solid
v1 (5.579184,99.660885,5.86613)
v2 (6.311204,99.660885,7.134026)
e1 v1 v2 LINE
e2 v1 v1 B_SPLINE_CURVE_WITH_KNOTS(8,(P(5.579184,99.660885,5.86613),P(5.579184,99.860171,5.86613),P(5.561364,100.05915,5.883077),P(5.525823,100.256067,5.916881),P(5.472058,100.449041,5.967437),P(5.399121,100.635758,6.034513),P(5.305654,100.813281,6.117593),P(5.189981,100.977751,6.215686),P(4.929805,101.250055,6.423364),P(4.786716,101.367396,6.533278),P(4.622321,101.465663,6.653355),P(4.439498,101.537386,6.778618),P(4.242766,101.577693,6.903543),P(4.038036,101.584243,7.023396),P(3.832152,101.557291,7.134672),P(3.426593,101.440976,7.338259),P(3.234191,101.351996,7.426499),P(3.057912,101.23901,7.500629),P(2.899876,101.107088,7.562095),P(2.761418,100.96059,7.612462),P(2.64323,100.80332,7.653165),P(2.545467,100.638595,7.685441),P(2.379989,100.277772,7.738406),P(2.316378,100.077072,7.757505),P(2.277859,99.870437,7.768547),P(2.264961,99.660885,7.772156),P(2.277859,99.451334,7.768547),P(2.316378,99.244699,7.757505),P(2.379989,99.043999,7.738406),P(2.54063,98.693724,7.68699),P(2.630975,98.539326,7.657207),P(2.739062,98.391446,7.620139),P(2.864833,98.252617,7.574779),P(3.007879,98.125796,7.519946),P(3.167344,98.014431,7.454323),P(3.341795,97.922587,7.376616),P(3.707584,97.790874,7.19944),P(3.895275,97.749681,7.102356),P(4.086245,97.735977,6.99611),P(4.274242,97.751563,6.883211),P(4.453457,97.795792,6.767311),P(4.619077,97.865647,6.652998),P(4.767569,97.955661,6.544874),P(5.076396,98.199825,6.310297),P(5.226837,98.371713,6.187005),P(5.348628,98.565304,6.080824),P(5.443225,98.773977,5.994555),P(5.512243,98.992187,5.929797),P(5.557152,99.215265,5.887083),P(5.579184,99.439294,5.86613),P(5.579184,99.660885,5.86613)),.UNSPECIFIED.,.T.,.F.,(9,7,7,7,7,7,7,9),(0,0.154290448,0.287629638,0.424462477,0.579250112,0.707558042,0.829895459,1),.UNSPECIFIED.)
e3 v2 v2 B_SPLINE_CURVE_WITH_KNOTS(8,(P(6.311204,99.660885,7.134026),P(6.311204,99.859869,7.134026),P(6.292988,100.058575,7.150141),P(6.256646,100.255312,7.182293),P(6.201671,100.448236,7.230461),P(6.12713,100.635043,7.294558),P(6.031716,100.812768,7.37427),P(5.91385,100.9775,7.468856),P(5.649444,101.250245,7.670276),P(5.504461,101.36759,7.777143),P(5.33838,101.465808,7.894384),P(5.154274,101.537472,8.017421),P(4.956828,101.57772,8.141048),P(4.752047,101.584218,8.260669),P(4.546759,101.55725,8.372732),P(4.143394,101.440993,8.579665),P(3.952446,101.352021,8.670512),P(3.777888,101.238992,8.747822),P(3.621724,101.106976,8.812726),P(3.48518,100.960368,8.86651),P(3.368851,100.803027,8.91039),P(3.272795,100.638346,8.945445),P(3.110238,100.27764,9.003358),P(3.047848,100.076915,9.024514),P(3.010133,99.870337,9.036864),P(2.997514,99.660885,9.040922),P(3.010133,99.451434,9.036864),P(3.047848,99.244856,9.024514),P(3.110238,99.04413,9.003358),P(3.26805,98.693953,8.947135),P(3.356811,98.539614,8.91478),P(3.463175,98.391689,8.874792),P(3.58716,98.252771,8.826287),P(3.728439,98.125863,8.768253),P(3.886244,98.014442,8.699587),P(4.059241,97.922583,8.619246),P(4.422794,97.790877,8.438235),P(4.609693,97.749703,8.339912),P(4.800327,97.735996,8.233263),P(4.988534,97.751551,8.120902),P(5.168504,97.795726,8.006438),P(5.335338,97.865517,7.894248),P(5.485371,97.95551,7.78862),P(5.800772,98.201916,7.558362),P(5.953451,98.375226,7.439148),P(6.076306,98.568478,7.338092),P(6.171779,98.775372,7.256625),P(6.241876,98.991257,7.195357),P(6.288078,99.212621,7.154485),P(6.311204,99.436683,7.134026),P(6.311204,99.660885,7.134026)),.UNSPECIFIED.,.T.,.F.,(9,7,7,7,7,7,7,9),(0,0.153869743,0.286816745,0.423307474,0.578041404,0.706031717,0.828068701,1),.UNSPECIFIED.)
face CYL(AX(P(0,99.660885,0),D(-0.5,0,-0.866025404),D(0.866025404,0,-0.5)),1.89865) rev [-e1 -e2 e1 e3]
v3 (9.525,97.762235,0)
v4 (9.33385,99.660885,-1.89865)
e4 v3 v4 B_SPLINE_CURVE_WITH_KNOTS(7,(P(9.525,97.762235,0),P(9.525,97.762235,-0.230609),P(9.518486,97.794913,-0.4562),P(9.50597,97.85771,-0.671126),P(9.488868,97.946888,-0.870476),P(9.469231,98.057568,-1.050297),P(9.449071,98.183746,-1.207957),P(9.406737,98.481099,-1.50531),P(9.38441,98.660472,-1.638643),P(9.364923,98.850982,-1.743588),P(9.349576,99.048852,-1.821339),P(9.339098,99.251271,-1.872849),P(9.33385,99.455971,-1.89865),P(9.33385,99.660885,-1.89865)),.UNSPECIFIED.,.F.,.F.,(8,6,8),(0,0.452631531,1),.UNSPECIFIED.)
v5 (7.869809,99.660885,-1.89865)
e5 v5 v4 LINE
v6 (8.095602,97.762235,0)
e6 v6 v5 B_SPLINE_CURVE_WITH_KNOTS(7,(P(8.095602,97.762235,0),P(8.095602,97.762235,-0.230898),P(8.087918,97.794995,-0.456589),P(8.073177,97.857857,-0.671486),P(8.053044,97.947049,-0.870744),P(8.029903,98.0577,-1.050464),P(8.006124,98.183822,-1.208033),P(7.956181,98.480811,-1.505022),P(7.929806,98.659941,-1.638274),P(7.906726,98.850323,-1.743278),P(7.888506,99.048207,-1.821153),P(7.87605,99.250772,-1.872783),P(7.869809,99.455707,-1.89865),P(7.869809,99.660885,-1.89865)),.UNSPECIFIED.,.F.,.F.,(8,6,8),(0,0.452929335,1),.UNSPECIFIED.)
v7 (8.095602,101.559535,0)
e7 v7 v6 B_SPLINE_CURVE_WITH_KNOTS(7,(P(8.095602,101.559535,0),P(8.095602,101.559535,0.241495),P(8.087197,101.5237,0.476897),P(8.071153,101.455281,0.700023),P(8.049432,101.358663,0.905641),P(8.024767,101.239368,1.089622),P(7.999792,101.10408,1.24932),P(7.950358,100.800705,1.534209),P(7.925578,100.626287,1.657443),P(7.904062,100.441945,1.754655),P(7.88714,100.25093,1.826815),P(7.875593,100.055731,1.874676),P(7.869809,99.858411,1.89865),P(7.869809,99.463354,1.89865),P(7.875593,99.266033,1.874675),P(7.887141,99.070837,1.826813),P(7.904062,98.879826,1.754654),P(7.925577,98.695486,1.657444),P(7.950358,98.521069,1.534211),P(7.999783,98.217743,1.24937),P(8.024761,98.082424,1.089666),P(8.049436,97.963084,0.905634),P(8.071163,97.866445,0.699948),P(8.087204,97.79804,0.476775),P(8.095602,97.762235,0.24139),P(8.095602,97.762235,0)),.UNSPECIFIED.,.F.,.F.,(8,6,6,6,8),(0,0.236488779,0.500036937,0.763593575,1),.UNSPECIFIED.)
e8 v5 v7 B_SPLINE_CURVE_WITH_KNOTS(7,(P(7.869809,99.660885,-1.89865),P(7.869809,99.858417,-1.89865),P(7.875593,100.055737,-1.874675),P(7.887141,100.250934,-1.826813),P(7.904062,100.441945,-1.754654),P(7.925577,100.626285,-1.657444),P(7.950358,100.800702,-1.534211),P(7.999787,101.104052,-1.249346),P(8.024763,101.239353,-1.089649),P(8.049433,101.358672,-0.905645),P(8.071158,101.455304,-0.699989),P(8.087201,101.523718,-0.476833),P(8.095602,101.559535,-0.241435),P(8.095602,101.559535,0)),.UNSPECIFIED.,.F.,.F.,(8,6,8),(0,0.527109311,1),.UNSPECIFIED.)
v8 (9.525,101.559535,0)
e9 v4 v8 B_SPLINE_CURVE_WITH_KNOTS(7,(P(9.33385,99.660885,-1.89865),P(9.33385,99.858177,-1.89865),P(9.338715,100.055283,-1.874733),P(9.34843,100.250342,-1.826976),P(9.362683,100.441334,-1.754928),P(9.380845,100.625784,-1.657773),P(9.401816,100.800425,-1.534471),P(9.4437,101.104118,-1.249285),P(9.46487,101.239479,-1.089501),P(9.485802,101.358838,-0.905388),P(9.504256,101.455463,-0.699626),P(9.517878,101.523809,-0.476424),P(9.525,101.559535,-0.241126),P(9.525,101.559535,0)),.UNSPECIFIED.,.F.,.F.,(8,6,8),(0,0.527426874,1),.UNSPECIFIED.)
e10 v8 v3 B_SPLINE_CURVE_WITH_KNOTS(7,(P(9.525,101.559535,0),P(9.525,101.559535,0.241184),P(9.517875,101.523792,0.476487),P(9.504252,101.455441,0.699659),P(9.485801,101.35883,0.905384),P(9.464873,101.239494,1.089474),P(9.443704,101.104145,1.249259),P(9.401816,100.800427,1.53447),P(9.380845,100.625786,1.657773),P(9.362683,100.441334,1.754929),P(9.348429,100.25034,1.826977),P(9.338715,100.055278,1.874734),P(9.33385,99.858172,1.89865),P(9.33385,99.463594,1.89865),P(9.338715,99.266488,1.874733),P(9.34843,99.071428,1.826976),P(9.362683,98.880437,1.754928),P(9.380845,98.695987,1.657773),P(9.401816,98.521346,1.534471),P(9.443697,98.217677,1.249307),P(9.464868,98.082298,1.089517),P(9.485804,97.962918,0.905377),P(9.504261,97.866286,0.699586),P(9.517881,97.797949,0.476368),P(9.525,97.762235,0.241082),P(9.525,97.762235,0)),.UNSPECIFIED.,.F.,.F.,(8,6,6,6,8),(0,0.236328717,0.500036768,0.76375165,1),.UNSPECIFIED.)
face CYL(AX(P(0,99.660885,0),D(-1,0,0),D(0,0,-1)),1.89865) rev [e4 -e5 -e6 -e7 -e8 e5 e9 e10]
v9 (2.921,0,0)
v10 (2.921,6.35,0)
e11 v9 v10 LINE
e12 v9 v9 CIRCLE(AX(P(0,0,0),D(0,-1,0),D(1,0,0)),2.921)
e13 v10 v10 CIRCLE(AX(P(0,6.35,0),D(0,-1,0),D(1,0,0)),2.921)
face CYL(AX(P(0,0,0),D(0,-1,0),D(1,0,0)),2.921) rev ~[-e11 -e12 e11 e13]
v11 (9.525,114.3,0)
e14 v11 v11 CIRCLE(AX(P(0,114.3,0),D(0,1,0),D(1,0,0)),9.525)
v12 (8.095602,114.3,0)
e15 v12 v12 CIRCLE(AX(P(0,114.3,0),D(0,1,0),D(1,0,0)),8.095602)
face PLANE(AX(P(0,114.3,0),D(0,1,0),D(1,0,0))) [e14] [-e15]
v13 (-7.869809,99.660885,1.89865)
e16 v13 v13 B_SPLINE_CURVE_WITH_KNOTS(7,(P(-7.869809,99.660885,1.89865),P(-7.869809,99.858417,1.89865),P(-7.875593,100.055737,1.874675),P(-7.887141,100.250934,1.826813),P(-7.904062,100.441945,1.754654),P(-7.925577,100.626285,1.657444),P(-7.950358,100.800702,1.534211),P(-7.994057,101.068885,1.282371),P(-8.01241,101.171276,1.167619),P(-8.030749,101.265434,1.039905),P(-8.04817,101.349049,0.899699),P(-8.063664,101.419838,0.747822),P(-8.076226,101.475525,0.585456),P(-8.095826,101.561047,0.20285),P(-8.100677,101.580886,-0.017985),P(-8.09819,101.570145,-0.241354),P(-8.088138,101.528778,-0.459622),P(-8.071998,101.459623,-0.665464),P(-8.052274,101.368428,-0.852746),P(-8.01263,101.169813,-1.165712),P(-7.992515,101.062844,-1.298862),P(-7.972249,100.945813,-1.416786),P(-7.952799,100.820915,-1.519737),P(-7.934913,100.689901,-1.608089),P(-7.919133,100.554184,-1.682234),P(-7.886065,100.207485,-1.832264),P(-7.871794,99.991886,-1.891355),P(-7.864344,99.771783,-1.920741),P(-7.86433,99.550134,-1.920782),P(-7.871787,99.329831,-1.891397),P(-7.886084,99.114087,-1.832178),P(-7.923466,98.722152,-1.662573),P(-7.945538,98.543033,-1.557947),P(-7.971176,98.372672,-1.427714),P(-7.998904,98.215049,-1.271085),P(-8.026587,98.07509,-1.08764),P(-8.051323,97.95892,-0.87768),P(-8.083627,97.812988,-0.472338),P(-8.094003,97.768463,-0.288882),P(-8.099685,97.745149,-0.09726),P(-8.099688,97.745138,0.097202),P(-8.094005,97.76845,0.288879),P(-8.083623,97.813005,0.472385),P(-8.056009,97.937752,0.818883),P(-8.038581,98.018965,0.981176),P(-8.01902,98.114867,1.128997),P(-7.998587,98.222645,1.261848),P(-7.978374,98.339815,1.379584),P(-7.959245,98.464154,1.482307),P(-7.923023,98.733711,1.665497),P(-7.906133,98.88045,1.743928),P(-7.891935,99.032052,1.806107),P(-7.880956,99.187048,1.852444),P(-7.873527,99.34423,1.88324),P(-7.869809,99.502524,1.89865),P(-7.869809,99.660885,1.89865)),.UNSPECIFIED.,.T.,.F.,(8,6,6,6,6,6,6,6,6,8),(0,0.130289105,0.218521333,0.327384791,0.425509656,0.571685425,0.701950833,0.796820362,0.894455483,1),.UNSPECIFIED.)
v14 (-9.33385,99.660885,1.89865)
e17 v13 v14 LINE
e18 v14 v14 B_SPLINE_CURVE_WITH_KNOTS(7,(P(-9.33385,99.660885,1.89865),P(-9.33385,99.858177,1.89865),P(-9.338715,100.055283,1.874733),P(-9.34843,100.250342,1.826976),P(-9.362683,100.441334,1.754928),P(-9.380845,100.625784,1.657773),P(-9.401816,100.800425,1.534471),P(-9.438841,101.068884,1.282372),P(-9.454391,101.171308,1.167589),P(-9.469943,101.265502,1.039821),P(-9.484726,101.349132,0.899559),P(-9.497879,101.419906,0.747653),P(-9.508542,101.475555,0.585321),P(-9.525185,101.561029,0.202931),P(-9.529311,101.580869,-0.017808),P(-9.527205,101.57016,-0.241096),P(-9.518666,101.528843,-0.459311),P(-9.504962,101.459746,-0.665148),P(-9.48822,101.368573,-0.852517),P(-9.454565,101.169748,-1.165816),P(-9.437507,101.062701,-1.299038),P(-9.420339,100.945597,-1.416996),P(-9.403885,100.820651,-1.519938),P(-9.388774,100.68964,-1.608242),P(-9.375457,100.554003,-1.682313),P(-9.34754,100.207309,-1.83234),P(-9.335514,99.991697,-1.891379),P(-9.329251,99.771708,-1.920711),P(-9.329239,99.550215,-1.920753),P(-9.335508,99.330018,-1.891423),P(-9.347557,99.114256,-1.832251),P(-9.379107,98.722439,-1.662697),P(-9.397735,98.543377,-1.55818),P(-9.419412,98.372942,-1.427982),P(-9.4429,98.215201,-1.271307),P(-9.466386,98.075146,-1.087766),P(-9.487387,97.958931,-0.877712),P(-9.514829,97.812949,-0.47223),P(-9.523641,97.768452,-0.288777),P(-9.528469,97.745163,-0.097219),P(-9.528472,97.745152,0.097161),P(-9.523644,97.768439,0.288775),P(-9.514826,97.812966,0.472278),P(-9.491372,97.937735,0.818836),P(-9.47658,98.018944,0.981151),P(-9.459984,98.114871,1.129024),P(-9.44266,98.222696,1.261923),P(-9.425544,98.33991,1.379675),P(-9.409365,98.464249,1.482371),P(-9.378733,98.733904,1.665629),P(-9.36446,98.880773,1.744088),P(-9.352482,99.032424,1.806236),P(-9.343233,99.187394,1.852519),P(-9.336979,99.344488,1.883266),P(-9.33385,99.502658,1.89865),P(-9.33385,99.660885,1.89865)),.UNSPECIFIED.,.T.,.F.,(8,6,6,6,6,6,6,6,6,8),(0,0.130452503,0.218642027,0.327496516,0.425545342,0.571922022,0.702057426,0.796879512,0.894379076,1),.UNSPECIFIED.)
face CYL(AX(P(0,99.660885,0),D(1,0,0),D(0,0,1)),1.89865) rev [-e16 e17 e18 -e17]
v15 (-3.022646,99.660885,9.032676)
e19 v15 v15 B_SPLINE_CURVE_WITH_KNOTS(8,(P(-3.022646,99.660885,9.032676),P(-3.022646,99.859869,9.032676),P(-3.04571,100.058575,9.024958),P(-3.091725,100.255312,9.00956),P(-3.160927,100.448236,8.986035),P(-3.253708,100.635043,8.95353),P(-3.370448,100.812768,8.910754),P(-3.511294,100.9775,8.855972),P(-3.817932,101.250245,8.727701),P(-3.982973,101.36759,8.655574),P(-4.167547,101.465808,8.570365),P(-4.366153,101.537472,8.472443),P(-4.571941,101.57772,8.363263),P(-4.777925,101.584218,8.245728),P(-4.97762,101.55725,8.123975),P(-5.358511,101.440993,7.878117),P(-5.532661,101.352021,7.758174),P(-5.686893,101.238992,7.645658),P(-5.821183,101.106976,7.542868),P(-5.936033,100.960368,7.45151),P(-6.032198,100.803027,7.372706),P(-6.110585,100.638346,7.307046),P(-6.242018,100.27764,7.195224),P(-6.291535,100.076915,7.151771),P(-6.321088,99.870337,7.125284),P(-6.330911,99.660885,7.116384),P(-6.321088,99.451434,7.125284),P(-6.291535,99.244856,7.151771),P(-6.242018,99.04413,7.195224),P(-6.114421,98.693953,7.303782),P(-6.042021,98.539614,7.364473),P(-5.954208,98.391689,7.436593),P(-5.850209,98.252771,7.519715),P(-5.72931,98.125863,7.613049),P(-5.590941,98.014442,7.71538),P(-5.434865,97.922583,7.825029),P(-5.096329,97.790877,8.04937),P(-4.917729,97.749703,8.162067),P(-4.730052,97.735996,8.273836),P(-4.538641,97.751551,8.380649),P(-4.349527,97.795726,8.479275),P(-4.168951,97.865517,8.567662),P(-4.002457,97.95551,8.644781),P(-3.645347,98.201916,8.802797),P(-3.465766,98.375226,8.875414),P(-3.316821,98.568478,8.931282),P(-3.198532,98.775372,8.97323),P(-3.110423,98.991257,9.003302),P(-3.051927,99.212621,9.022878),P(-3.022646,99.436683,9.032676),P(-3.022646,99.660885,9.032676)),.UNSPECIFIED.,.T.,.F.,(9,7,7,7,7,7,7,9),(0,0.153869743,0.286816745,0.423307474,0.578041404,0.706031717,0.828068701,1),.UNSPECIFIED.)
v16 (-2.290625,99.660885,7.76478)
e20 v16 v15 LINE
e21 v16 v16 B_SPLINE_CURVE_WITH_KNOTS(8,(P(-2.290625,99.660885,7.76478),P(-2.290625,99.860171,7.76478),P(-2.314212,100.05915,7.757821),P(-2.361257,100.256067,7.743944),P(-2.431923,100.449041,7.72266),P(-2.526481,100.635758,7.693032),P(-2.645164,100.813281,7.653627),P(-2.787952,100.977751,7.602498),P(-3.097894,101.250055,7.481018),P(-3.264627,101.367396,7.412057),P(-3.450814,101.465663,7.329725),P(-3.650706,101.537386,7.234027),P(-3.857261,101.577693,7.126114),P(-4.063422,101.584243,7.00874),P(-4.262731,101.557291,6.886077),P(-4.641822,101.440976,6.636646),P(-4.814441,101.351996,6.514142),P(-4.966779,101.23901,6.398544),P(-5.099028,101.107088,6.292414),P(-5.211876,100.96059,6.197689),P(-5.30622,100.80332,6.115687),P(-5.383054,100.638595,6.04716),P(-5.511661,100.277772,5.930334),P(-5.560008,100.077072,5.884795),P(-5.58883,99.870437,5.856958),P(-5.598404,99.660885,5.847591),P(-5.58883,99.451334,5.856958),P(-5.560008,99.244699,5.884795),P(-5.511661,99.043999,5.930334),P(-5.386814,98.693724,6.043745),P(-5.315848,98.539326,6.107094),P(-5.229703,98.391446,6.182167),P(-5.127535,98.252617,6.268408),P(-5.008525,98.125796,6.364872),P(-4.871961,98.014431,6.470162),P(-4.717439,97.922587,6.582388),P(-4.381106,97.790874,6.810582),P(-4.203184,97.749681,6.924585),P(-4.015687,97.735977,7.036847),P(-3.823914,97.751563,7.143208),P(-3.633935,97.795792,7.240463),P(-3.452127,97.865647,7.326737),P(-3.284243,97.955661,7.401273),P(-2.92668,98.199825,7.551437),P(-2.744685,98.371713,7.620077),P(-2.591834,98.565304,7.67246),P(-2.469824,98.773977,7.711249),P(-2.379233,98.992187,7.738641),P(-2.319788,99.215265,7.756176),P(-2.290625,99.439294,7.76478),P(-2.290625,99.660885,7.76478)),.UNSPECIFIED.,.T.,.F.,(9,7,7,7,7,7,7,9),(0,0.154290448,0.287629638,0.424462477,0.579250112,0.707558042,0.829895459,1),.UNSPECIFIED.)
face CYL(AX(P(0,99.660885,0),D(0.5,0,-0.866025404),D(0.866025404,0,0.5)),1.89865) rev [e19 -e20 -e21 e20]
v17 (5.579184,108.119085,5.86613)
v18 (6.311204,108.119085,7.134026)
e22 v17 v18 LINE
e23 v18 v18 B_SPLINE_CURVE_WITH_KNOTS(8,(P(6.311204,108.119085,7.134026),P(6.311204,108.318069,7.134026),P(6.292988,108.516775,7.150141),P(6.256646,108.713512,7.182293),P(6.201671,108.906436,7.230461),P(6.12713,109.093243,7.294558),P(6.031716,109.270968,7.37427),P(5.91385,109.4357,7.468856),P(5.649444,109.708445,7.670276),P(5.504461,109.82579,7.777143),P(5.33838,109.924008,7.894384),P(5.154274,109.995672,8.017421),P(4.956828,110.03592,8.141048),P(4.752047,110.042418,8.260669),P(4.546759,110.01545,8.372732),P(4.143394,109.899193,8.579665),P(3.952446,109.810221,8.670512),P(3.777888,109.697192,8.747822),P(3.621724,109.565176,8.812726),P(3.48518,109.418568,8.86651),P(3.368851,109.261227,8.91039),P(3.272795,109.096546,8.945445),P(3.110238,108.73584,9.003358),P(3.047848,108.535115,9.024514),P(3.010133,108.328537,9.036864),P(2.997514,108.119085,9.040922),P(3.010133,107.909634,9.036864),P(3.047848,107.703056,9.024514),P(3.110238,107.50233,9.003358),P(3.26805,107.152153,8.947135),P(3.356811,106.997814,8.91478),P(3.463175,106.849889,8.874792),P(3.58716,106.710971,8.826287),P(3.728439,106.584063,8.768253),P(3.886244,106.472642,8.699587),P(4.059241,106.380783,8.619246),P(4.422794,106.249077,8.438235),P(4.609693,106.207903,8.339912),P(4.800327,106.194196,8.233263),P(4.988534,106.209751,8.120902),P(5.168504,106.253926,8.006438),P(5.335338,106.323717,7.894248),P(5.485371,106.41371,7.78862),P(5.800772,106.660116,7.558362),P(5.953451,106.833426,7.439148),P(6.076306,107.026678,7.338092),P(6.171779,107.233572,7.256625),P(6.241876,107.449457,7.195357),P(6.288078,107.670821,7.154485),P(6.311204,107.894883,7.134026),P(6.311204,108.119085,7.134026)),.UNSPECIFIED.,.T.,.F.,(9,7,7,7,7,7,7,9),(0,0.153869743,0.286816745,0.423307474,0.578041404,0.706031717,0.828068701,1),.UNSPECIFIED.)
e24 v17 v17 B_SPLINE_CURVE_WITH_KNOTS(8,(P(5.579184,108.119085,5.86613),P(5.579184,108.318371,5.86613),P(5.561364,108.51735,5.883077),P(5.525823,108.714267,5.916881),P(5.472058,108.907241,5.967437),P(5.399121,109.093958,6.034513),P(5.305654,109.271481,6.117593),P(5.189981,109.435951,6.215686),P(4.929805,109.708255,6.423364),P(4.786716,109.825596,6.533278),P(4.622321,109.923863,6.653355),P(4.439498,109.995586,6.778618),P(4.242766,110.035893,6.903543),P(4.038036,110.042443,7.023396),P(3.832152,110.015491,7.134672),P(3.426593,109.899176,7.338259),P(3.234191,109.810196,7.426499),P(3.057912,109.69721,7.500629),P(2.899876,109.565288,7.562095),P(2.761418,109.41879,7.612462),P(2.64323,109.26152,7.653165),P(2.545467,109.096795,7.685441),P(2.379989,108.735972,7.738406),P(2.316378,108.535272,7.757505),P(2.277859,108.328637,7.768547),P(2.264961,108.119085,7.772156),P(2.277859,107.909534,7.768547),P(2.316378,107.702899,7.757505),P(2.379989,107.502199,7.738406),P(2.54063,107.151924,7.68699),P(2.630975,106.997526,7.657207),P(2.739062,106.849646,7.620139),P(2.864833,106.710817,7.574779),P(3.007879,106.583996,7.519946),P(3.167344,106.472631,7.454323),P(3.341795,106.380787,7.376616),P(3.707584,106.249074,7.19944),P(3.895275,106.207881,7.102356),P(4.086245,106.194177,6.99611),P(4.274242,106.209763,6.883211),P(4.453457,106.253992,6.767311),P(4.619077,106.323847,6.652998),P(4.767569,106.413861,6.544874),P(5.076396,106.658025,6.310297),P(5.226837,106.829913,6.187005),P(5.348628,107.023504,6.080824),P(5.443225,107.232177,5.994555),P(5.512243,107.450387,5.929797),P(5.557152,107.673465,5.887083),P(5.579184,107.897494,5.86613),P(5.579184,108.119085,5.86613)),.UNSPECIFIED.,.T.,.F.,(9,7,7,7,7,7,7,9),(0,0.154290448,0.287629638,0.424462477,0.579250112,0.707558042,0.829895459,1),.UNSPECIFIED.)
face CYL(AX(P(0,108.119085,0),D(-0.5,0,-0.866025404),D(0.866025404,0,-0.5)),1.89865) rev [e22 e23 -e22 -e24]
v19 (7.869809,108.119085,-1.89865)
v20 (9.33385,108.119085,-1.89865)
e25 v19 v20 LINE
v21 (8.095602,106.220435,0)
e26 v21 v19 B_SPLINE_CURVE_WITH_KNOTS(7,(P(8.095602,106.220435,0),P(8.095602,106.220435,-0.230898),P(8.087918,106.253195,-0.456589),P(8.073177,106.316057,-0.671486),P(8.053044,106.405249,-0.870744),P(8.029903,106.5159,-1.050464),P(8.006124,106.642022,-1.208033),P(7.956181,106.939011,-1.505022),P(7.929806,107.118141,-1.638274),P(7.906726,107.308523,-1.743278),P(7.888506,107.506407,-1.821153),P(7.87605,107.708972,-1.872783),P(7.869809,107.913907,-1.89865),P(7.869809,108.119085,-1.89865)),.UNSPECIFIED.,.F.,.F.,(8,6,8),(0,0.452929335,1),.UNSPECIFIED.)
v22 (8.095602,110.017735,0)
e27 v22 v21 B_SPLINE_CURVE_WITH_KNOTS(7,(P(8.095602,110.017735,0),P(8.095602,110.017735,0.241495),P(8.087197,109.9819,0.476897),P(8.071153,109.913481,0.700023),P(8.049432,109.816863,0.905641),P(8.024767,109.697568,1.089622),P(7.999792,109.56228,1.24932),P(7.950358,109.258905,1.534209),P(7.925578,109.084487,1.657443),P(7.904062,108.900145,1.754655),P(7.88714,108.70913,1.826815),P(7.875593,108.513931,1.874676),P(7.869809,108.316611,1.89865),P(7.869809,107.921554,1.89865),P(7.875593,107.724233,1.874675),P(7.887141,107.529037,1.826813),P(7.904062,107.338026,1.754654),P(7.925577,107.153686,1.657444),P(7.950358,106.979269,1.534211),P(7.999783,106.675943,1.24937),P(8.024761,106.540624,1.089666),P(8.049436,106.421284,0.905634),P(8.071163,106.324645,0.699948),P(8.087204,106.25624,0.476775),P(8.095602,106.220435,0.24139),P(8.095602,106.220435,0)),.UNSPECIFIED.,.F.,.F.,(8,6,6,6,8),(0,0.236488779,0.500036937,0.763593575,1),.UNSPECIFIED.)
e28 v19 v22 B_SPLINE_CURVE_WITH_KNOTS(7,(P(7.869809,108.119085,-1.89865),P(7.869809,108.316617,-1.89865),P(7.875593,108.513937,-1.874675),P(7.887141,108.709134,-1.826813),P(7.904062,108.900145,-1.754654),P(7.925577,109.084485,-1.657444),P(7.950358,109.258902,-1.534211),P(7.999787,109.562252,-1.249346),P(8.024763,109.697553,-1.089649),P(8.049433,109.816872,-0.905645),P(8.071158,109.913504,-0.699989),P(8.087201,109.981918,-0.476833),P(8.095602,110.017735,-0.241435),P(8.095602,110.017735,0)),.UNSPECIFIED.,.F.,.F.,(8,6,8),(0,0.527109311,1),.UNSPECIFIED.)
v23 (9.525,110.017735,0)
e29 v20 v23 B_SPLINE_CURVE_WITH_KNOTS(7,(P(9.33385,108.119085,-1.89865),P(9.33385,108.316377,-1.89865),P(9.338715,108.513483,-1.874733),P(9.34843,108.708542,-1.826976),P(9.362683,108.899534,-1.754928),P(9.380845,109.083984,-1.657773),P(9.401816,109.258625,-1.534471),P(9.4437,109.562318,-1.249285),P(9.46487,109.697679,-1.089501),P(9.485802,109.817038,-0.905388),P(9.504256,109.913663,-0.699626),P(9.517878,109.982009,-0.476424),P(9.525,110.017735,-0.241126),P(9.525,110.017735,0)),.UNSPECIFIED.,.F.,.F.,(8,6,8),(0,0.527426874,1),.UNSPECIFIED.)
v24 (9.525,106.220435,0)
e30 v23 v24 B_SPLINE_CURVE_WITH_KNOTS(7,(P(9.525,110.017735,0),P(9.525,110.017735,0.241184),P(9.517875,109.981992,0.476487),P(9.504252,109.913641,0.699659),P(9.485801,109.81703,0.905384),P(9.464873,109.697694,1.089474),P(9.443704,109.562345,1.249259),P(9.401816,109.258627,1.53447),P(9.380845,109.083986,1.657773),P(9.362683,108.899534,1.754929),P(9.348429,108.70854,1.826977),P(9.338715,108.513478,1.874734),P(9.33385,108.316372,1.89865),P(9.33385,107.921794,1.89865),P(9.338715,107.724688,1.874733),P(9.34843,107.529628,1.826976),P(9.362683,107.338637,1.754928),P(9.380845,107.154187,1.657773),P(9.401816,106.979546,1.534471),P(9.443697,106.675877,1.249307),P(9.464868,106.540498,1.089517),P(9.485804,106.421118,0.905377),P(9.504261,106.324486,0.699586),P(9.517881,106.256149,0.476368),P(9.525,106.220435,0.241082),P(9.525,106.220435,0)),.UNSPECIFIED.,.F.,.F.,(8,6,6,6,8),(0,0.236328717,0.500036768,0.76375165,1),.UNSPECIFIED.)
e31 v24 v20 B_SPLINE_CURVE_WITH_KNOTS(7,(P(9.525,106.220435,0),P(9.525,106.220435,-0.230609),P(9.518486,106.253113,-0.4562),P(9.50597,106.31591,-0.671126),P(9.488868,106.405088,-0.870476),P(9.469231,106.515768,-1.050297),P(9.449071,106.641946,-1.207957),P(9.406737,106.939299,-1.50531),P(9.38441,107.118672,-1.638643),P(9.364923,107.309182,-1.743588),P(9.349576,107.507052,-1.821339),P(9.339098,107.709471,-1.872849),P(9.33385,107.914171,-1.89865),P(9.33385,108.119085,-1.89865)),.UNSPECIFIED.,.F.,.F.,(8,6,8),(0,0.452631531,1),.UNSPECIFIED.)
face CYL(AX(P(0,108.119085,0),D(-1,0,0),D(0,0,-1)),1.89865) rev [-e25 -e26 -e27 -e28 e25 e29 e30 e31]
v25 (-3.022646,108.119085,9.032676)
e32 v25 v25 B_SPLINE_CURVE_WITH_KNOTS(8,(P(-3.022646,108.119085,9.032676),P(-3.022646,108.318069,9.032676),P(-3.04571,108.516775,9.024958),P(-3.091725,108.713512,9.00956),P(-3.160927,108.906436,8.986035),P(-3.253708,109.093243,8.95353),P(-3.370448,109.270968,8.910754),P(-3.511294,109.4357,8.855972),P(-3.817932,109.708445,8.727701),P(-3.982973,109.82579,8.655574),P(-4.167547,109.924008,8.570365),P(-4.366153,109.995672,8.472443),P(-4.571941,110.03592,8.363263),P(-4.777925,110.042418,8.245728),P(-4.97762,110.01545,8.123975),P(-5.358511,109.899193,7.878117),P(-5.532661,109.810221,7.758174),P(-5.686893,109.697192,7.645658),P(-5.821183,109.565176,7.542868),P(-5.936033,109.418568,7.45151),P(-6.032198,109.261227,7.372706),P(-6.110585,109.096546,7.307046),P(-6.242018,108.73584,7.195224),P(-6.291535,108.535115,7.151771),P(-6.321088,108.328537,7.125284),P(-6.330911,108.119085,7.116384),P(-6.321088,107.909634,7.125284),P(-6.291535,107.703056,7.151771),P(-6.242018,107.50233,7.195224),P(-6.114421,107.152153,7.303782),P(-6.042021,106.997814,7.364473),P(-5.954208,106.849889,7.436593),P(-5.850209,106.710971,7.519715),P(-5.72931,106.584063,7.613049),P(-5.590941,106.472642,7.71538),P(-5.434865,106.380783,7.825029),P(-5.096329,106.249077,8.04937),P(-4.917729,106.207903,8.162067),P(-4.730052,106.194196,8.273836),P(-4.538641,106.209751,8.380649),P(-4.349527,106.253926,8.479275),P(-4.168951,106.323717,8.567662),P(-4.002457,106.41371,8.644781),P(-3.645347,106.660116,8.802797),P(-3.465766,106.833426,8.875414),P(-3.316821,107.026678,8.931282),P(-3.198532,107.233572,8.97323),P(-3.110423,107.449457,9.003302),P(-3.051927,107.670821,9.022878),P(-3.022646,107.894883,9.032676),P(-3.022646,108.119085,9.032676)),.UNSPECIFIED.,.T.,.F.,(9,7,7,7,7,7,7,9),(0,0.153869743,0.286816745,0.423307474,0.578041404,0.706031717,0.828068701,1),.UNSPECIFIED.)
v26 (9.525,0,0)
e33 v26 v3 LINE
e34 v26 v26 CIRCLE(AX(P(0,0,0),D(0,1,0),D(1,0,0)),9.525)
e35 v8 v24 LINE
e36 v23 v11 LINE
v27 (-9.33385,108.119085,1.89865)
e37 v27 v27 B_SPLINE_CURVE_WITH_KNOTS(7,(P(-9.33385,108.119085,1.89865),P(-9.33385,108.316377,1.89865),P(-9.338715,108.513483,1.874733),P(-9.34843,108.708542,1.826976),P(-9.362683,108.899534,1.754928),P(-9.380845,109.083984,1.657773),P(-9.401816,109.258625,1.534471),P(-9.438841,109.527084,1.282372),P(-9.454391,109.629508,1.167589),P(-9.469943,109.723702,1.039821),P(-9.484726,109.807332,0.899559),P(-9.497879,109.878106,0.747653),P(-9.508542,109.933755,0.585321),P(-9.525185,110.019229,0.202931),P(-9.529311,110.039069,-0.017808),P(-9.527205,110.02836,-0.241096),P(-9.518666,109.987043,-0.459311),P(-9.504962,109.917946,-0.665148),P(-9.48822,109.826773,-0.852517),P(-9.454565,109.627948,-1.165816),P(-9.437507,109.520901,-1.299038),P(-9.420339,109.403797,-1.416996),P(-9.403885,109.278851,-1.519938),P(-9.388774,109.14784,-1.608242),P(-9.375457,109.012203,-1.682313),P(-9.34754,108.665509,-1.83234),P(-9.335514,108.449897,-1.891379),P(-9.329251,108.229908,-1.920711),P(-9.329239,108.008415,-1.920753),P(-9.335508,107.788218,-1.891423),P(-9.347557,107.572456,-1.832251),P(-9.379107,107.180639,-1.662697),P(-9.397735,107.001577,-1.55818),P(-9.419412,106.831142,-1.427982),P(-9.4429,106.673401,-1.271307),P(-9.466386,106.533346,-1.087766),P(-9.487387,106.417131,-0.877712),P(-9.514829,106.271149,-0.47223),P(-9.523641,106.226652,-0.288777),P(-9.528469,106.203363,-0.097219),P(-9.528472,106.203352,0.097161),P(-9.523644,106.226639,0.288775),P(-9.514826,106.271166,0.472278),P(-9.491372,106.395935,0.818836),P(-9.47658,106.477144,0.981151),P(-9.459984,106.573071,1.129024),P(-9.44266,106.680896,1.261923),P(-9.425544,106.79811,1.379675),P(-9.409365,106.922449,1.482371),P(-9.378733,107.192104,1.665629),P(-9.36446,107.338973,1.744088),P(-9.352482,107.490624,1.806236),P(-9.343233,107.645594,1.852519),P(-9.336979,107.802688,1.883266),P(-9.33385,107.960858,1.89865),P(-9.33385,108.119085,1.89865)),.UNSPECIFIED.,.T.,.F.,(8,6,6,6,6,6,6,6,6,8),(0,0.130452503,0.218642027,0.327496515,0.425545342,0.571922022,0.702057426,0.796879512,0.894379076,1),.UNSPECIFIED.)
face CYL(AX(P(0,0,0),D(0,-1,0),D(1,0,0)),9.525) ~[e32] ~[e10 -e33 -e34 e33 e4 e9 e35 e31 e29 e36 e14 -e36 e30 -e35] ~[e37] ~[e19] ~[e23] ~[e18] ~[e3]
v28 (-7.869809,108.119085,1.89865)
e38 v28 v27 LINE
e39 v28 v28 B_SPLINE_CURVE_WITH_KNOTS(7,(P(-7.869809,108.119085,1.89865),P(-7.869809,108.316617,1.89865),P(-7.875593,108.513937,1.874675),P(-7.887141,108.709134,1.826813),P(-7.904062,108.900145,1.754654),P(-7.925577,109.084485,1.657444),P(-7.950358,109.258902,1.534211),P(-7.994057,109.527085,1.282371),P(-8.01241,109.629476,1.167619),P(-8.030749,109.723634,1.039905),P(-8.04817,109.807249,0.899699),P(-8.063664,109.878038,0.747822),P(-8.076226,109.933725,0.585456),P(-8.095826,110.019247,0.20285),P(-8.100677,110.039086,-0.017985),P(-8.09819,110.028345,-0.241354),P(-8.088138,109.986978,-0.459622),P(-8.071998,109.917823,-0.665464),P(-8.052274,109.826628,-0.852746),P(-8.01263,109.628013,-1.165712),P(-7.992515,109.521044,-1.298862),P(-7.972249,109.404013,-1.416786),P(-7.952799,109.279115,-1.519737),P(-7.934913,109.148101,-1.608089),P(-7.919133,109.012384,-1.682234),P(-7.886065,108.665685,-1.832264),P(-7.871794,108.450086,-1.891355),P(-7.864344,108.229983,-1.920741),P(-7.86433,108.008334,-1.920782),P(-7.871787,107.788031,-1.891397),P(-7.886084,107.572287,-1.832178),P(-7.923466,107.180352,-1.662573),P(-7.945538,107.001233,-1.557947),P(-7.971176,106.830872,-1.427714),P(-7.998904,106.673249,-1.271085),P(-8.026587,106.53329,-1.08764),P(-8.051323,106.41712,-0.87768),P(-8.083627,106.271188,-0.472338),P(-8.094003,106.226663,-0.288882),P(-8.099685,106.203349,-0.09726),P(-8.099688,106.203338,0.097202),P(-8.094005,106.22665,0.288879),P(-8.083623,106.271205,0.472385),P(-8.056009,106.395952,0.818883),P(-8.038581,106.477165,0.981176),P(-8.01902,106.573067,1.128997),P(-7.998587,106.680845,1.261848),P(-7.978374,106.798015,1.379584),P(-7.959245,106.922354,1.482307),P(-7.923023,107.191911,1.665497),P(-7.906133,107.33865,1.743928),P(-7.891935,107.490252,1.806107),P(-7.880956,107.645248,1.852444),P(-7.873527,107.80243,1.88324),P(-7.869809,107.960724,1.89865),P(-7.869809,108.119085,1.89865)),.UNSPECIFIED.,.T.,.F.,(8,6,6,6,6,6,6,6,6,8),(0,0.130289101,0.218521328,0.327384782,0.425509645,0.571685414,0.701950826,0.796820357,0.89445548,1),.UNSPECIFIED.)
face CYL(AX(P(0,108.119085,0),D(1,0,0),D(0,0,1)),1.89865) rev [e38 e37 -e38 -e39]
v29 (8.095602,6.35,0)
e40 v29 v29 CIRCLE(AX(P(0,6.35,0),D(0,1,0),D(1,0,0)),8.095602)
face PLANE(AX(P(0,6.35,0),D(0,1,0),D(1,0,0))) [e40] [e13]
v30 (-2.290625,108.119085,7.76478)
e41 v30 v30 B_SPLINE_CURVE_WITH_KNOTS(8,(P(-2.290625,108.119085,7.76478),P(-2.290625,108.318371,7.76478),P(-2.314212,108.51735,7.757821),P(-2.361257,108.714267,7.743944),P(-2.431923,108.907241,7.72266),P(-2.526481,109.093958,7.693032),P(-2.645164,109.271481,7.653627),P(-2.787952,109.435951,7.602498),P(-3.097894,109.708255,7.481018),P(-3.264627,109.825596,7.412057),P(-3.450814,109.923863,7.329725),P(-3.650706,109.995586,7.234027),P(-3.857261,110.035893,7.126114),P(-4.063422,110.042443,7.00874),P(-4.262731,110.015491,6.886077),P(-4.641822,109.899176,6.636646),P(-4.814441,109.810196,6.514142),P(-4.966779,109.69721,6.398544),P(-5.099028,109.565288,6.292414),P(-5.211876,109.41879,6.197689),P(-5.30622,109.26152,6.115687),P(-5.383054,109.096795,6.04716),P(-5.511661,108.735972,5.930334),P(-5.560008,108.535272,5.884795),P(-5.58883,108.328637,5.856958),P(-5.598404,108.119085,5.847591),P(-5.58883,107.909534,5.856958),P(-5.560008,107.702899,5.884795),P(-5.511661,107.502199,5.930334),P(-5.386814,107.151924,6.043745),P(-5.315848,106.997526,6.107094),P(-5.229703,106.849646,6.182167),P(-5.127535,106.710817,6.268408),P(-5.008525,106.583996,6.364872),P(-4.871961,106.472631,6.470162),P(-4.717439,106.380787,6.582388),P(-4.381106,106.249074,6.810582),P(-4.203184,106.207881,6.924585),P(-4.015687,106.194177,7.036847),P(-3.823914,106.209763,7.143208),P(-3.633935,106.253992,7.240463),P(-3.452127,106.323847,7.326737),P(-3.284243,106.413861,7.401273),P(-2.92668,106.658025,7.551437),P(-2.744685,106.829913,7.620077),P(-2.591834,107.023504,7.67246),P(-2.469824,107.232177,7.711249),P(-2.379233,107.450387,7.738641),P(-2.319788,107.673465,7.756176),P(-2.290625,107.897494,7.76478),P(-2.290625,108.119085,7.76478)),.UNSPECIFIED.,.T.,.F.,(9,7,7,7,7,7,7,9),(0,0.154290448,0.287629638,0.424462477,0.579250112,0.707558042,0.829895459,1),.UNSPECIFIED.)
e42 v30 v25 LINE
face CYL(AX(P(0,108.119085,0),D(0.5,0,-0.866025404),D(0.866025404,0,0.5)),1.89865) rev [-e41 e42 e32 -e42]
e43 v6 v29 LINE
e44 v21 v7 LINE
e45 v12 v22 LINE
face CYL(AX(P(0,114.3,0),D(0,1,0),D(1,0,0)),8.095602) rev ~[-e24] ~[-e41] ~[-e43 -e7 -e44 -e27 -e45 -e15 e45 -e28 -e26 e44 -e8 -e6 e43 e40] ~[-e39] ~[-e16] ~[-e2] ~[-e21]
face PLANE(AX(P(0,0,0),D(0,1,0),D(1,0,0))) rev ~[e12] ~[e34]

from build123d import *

# Parameters (mm, degrees)
SKETCH1_R                 = 9.525
BOSS_EXTRUDE1_DEPTH       = 114.3
SKETCH2_R                 = 8.095601674
CUT_EXTRUDE1_DEPTH        = 1
CUT_EXTRUDE1_DEPTH_BACK   = 107.95
SKETCH4_R                 = 1.89865
CUT_EXTRUDE2_DEPTH        = 114.3
CIRPATTERN1_COUNT         = 4
CIRPATTERN1_ANGLE         = 180
LPATTERN1_COUNT           = 2
LPATTERN1_PITCH           = 8.4582
LPATTERN1_COPY_1_SKETCH_R = 1.89865
LPATTERN1_COPY_1_DEPTH    = 114.3
LPATTERN1_COPY_2_SKETCH_R = 1.89865
LPATTERN1_COPY_2_DEPTH    = 114.3
LPATTERN1_COPY_3_SKETCH_R = 1.89865
LPATTERN1_COPY_3_DEPTH    = 114.3
SKETCH5_R                 = 2.921
CUT_EXTRUDE3_DEPTH        = 114.3


with BuildPart() as part:
    # Sketch1 → Boss-Extrude1 (new body)
    with BuildSketch(Plane(origin=(0, 0, 0), x_dir=(1, 0, 0), z_dir=(0, 1, 0))):
        Circle(SKETCH1_R)
    extrude(amount=BOSS_EXTRUDE1_DEPTH)

    # Sketch2 → Cut-Extrude1 (cut, two sides)
    with BuildSketch(Plane(origin=(0, 114.3, 0), x_dir=(1, 0, 0), z_dir=(0, 1, 0))) as cut_extrude1_sk:
        Circle(SKETCH2_R)
    extrude(amount=CUT_EXTRUDE1_DEPTH, mode=Mode.SUBTRACT)
    extrude(cut_extrude1_sk.sketch, amount=-CUT_EXTRUDE1_DEPTH_BACK, mode=Mode.SUBTRACT)

    # Sketch4 → Cut-Extrude2 (cut)
    with BuildSketch(Plane(origin=(0, 0, 0), x_dir=(0, 0, -1), z_dir=(1, 0, 0))):
        with Locations((0, 108.119085448)):
            Circle(SKETCH4_R)
    cut_extrude2 = extrude(amount=CUT_EXTRUDE2_DEPTH, mode=Mode.SUBTRACT)

    # CirPattern1: Cut-Extrude2 ×4 about axis
    cirpattern1_axis = Axis((0, 114.3, 0), (0, -1, 0))
    for i in range(1, CIRPATTERN1_COUNT):
        add(cut_extrude2.rotate(cirpattern1_axis, i * CIRPATTERN1_ANGLE / (CIRPATTERN1_COUNT - 1)), mode=Mode.SUBTRACT)

    # LPattern1: Cut-Extrude2 ×2
    with Locations(*[(0, -i * LPATTERN1_PITCH, 0) for i in range(1, LPATTERN1_COUNT)]):
        add(cut_extrude2, mode=Mode.SUBTRACT)

    # LPattern1 copy 1 sketch → LPattern1 copy 1 (cut)
    with BuildSketch(Plane(origin=(0, -8.4582, 0), x_dir=(0.866025404, 0, -0.5), z_dir=(0.5, 0, 0.866025404))):
        with Locations((0, 108.119085448)):
            Circle(LPATTERN1_COPY_1_SKETCH_R)
    extrude(amount=LPATTERN1_COPY_1_DEPTH, mode=Mode.SUBTRACT)

    # LPattern1 copy 2 sketch → LPattern1 copy 2 (cut)
    with BuildSketch(Plane(origin=(0, -8.4582, 0), x_dir=(0.866025404, 0, 0.5), z_dir=(-0.5, 0, 0.866025404))):
        with Locations((0, 108.119085448)):
            Circle(LPATTERN1_COPY_2_SKETCH_R)
    extrude(amount=LPATTERN1_COPY_2_DEPTH, mode=Mode.SUBTRACT)

    # LPattern1 copy 3 sketch → LPattern1 copy 3 (cut)
    with BuildSketch(Plane(origin=(0, -8.4582, 0), x_dir=(0, 0, 1), z_dir=(-1, 0, 0))):
        with Locations((0, 108.119085448)):
            Circle(LPATTERN1_COPY_3_SKETCH_R)
    extrude(amount=LPATTERN1_COPY_3_DEPTH, mode=Mode.SUBTRACT)

    # Sketch5 → Cut-Extrude3 (cut)
    with BuildSketch(Plane.XZ):
        Circle(SKETCH5_R)
    extrude(amount=-CUT_EXTRUDE3_DEPTH, mode=Mode.SUBTRACT)


solid = part.part
